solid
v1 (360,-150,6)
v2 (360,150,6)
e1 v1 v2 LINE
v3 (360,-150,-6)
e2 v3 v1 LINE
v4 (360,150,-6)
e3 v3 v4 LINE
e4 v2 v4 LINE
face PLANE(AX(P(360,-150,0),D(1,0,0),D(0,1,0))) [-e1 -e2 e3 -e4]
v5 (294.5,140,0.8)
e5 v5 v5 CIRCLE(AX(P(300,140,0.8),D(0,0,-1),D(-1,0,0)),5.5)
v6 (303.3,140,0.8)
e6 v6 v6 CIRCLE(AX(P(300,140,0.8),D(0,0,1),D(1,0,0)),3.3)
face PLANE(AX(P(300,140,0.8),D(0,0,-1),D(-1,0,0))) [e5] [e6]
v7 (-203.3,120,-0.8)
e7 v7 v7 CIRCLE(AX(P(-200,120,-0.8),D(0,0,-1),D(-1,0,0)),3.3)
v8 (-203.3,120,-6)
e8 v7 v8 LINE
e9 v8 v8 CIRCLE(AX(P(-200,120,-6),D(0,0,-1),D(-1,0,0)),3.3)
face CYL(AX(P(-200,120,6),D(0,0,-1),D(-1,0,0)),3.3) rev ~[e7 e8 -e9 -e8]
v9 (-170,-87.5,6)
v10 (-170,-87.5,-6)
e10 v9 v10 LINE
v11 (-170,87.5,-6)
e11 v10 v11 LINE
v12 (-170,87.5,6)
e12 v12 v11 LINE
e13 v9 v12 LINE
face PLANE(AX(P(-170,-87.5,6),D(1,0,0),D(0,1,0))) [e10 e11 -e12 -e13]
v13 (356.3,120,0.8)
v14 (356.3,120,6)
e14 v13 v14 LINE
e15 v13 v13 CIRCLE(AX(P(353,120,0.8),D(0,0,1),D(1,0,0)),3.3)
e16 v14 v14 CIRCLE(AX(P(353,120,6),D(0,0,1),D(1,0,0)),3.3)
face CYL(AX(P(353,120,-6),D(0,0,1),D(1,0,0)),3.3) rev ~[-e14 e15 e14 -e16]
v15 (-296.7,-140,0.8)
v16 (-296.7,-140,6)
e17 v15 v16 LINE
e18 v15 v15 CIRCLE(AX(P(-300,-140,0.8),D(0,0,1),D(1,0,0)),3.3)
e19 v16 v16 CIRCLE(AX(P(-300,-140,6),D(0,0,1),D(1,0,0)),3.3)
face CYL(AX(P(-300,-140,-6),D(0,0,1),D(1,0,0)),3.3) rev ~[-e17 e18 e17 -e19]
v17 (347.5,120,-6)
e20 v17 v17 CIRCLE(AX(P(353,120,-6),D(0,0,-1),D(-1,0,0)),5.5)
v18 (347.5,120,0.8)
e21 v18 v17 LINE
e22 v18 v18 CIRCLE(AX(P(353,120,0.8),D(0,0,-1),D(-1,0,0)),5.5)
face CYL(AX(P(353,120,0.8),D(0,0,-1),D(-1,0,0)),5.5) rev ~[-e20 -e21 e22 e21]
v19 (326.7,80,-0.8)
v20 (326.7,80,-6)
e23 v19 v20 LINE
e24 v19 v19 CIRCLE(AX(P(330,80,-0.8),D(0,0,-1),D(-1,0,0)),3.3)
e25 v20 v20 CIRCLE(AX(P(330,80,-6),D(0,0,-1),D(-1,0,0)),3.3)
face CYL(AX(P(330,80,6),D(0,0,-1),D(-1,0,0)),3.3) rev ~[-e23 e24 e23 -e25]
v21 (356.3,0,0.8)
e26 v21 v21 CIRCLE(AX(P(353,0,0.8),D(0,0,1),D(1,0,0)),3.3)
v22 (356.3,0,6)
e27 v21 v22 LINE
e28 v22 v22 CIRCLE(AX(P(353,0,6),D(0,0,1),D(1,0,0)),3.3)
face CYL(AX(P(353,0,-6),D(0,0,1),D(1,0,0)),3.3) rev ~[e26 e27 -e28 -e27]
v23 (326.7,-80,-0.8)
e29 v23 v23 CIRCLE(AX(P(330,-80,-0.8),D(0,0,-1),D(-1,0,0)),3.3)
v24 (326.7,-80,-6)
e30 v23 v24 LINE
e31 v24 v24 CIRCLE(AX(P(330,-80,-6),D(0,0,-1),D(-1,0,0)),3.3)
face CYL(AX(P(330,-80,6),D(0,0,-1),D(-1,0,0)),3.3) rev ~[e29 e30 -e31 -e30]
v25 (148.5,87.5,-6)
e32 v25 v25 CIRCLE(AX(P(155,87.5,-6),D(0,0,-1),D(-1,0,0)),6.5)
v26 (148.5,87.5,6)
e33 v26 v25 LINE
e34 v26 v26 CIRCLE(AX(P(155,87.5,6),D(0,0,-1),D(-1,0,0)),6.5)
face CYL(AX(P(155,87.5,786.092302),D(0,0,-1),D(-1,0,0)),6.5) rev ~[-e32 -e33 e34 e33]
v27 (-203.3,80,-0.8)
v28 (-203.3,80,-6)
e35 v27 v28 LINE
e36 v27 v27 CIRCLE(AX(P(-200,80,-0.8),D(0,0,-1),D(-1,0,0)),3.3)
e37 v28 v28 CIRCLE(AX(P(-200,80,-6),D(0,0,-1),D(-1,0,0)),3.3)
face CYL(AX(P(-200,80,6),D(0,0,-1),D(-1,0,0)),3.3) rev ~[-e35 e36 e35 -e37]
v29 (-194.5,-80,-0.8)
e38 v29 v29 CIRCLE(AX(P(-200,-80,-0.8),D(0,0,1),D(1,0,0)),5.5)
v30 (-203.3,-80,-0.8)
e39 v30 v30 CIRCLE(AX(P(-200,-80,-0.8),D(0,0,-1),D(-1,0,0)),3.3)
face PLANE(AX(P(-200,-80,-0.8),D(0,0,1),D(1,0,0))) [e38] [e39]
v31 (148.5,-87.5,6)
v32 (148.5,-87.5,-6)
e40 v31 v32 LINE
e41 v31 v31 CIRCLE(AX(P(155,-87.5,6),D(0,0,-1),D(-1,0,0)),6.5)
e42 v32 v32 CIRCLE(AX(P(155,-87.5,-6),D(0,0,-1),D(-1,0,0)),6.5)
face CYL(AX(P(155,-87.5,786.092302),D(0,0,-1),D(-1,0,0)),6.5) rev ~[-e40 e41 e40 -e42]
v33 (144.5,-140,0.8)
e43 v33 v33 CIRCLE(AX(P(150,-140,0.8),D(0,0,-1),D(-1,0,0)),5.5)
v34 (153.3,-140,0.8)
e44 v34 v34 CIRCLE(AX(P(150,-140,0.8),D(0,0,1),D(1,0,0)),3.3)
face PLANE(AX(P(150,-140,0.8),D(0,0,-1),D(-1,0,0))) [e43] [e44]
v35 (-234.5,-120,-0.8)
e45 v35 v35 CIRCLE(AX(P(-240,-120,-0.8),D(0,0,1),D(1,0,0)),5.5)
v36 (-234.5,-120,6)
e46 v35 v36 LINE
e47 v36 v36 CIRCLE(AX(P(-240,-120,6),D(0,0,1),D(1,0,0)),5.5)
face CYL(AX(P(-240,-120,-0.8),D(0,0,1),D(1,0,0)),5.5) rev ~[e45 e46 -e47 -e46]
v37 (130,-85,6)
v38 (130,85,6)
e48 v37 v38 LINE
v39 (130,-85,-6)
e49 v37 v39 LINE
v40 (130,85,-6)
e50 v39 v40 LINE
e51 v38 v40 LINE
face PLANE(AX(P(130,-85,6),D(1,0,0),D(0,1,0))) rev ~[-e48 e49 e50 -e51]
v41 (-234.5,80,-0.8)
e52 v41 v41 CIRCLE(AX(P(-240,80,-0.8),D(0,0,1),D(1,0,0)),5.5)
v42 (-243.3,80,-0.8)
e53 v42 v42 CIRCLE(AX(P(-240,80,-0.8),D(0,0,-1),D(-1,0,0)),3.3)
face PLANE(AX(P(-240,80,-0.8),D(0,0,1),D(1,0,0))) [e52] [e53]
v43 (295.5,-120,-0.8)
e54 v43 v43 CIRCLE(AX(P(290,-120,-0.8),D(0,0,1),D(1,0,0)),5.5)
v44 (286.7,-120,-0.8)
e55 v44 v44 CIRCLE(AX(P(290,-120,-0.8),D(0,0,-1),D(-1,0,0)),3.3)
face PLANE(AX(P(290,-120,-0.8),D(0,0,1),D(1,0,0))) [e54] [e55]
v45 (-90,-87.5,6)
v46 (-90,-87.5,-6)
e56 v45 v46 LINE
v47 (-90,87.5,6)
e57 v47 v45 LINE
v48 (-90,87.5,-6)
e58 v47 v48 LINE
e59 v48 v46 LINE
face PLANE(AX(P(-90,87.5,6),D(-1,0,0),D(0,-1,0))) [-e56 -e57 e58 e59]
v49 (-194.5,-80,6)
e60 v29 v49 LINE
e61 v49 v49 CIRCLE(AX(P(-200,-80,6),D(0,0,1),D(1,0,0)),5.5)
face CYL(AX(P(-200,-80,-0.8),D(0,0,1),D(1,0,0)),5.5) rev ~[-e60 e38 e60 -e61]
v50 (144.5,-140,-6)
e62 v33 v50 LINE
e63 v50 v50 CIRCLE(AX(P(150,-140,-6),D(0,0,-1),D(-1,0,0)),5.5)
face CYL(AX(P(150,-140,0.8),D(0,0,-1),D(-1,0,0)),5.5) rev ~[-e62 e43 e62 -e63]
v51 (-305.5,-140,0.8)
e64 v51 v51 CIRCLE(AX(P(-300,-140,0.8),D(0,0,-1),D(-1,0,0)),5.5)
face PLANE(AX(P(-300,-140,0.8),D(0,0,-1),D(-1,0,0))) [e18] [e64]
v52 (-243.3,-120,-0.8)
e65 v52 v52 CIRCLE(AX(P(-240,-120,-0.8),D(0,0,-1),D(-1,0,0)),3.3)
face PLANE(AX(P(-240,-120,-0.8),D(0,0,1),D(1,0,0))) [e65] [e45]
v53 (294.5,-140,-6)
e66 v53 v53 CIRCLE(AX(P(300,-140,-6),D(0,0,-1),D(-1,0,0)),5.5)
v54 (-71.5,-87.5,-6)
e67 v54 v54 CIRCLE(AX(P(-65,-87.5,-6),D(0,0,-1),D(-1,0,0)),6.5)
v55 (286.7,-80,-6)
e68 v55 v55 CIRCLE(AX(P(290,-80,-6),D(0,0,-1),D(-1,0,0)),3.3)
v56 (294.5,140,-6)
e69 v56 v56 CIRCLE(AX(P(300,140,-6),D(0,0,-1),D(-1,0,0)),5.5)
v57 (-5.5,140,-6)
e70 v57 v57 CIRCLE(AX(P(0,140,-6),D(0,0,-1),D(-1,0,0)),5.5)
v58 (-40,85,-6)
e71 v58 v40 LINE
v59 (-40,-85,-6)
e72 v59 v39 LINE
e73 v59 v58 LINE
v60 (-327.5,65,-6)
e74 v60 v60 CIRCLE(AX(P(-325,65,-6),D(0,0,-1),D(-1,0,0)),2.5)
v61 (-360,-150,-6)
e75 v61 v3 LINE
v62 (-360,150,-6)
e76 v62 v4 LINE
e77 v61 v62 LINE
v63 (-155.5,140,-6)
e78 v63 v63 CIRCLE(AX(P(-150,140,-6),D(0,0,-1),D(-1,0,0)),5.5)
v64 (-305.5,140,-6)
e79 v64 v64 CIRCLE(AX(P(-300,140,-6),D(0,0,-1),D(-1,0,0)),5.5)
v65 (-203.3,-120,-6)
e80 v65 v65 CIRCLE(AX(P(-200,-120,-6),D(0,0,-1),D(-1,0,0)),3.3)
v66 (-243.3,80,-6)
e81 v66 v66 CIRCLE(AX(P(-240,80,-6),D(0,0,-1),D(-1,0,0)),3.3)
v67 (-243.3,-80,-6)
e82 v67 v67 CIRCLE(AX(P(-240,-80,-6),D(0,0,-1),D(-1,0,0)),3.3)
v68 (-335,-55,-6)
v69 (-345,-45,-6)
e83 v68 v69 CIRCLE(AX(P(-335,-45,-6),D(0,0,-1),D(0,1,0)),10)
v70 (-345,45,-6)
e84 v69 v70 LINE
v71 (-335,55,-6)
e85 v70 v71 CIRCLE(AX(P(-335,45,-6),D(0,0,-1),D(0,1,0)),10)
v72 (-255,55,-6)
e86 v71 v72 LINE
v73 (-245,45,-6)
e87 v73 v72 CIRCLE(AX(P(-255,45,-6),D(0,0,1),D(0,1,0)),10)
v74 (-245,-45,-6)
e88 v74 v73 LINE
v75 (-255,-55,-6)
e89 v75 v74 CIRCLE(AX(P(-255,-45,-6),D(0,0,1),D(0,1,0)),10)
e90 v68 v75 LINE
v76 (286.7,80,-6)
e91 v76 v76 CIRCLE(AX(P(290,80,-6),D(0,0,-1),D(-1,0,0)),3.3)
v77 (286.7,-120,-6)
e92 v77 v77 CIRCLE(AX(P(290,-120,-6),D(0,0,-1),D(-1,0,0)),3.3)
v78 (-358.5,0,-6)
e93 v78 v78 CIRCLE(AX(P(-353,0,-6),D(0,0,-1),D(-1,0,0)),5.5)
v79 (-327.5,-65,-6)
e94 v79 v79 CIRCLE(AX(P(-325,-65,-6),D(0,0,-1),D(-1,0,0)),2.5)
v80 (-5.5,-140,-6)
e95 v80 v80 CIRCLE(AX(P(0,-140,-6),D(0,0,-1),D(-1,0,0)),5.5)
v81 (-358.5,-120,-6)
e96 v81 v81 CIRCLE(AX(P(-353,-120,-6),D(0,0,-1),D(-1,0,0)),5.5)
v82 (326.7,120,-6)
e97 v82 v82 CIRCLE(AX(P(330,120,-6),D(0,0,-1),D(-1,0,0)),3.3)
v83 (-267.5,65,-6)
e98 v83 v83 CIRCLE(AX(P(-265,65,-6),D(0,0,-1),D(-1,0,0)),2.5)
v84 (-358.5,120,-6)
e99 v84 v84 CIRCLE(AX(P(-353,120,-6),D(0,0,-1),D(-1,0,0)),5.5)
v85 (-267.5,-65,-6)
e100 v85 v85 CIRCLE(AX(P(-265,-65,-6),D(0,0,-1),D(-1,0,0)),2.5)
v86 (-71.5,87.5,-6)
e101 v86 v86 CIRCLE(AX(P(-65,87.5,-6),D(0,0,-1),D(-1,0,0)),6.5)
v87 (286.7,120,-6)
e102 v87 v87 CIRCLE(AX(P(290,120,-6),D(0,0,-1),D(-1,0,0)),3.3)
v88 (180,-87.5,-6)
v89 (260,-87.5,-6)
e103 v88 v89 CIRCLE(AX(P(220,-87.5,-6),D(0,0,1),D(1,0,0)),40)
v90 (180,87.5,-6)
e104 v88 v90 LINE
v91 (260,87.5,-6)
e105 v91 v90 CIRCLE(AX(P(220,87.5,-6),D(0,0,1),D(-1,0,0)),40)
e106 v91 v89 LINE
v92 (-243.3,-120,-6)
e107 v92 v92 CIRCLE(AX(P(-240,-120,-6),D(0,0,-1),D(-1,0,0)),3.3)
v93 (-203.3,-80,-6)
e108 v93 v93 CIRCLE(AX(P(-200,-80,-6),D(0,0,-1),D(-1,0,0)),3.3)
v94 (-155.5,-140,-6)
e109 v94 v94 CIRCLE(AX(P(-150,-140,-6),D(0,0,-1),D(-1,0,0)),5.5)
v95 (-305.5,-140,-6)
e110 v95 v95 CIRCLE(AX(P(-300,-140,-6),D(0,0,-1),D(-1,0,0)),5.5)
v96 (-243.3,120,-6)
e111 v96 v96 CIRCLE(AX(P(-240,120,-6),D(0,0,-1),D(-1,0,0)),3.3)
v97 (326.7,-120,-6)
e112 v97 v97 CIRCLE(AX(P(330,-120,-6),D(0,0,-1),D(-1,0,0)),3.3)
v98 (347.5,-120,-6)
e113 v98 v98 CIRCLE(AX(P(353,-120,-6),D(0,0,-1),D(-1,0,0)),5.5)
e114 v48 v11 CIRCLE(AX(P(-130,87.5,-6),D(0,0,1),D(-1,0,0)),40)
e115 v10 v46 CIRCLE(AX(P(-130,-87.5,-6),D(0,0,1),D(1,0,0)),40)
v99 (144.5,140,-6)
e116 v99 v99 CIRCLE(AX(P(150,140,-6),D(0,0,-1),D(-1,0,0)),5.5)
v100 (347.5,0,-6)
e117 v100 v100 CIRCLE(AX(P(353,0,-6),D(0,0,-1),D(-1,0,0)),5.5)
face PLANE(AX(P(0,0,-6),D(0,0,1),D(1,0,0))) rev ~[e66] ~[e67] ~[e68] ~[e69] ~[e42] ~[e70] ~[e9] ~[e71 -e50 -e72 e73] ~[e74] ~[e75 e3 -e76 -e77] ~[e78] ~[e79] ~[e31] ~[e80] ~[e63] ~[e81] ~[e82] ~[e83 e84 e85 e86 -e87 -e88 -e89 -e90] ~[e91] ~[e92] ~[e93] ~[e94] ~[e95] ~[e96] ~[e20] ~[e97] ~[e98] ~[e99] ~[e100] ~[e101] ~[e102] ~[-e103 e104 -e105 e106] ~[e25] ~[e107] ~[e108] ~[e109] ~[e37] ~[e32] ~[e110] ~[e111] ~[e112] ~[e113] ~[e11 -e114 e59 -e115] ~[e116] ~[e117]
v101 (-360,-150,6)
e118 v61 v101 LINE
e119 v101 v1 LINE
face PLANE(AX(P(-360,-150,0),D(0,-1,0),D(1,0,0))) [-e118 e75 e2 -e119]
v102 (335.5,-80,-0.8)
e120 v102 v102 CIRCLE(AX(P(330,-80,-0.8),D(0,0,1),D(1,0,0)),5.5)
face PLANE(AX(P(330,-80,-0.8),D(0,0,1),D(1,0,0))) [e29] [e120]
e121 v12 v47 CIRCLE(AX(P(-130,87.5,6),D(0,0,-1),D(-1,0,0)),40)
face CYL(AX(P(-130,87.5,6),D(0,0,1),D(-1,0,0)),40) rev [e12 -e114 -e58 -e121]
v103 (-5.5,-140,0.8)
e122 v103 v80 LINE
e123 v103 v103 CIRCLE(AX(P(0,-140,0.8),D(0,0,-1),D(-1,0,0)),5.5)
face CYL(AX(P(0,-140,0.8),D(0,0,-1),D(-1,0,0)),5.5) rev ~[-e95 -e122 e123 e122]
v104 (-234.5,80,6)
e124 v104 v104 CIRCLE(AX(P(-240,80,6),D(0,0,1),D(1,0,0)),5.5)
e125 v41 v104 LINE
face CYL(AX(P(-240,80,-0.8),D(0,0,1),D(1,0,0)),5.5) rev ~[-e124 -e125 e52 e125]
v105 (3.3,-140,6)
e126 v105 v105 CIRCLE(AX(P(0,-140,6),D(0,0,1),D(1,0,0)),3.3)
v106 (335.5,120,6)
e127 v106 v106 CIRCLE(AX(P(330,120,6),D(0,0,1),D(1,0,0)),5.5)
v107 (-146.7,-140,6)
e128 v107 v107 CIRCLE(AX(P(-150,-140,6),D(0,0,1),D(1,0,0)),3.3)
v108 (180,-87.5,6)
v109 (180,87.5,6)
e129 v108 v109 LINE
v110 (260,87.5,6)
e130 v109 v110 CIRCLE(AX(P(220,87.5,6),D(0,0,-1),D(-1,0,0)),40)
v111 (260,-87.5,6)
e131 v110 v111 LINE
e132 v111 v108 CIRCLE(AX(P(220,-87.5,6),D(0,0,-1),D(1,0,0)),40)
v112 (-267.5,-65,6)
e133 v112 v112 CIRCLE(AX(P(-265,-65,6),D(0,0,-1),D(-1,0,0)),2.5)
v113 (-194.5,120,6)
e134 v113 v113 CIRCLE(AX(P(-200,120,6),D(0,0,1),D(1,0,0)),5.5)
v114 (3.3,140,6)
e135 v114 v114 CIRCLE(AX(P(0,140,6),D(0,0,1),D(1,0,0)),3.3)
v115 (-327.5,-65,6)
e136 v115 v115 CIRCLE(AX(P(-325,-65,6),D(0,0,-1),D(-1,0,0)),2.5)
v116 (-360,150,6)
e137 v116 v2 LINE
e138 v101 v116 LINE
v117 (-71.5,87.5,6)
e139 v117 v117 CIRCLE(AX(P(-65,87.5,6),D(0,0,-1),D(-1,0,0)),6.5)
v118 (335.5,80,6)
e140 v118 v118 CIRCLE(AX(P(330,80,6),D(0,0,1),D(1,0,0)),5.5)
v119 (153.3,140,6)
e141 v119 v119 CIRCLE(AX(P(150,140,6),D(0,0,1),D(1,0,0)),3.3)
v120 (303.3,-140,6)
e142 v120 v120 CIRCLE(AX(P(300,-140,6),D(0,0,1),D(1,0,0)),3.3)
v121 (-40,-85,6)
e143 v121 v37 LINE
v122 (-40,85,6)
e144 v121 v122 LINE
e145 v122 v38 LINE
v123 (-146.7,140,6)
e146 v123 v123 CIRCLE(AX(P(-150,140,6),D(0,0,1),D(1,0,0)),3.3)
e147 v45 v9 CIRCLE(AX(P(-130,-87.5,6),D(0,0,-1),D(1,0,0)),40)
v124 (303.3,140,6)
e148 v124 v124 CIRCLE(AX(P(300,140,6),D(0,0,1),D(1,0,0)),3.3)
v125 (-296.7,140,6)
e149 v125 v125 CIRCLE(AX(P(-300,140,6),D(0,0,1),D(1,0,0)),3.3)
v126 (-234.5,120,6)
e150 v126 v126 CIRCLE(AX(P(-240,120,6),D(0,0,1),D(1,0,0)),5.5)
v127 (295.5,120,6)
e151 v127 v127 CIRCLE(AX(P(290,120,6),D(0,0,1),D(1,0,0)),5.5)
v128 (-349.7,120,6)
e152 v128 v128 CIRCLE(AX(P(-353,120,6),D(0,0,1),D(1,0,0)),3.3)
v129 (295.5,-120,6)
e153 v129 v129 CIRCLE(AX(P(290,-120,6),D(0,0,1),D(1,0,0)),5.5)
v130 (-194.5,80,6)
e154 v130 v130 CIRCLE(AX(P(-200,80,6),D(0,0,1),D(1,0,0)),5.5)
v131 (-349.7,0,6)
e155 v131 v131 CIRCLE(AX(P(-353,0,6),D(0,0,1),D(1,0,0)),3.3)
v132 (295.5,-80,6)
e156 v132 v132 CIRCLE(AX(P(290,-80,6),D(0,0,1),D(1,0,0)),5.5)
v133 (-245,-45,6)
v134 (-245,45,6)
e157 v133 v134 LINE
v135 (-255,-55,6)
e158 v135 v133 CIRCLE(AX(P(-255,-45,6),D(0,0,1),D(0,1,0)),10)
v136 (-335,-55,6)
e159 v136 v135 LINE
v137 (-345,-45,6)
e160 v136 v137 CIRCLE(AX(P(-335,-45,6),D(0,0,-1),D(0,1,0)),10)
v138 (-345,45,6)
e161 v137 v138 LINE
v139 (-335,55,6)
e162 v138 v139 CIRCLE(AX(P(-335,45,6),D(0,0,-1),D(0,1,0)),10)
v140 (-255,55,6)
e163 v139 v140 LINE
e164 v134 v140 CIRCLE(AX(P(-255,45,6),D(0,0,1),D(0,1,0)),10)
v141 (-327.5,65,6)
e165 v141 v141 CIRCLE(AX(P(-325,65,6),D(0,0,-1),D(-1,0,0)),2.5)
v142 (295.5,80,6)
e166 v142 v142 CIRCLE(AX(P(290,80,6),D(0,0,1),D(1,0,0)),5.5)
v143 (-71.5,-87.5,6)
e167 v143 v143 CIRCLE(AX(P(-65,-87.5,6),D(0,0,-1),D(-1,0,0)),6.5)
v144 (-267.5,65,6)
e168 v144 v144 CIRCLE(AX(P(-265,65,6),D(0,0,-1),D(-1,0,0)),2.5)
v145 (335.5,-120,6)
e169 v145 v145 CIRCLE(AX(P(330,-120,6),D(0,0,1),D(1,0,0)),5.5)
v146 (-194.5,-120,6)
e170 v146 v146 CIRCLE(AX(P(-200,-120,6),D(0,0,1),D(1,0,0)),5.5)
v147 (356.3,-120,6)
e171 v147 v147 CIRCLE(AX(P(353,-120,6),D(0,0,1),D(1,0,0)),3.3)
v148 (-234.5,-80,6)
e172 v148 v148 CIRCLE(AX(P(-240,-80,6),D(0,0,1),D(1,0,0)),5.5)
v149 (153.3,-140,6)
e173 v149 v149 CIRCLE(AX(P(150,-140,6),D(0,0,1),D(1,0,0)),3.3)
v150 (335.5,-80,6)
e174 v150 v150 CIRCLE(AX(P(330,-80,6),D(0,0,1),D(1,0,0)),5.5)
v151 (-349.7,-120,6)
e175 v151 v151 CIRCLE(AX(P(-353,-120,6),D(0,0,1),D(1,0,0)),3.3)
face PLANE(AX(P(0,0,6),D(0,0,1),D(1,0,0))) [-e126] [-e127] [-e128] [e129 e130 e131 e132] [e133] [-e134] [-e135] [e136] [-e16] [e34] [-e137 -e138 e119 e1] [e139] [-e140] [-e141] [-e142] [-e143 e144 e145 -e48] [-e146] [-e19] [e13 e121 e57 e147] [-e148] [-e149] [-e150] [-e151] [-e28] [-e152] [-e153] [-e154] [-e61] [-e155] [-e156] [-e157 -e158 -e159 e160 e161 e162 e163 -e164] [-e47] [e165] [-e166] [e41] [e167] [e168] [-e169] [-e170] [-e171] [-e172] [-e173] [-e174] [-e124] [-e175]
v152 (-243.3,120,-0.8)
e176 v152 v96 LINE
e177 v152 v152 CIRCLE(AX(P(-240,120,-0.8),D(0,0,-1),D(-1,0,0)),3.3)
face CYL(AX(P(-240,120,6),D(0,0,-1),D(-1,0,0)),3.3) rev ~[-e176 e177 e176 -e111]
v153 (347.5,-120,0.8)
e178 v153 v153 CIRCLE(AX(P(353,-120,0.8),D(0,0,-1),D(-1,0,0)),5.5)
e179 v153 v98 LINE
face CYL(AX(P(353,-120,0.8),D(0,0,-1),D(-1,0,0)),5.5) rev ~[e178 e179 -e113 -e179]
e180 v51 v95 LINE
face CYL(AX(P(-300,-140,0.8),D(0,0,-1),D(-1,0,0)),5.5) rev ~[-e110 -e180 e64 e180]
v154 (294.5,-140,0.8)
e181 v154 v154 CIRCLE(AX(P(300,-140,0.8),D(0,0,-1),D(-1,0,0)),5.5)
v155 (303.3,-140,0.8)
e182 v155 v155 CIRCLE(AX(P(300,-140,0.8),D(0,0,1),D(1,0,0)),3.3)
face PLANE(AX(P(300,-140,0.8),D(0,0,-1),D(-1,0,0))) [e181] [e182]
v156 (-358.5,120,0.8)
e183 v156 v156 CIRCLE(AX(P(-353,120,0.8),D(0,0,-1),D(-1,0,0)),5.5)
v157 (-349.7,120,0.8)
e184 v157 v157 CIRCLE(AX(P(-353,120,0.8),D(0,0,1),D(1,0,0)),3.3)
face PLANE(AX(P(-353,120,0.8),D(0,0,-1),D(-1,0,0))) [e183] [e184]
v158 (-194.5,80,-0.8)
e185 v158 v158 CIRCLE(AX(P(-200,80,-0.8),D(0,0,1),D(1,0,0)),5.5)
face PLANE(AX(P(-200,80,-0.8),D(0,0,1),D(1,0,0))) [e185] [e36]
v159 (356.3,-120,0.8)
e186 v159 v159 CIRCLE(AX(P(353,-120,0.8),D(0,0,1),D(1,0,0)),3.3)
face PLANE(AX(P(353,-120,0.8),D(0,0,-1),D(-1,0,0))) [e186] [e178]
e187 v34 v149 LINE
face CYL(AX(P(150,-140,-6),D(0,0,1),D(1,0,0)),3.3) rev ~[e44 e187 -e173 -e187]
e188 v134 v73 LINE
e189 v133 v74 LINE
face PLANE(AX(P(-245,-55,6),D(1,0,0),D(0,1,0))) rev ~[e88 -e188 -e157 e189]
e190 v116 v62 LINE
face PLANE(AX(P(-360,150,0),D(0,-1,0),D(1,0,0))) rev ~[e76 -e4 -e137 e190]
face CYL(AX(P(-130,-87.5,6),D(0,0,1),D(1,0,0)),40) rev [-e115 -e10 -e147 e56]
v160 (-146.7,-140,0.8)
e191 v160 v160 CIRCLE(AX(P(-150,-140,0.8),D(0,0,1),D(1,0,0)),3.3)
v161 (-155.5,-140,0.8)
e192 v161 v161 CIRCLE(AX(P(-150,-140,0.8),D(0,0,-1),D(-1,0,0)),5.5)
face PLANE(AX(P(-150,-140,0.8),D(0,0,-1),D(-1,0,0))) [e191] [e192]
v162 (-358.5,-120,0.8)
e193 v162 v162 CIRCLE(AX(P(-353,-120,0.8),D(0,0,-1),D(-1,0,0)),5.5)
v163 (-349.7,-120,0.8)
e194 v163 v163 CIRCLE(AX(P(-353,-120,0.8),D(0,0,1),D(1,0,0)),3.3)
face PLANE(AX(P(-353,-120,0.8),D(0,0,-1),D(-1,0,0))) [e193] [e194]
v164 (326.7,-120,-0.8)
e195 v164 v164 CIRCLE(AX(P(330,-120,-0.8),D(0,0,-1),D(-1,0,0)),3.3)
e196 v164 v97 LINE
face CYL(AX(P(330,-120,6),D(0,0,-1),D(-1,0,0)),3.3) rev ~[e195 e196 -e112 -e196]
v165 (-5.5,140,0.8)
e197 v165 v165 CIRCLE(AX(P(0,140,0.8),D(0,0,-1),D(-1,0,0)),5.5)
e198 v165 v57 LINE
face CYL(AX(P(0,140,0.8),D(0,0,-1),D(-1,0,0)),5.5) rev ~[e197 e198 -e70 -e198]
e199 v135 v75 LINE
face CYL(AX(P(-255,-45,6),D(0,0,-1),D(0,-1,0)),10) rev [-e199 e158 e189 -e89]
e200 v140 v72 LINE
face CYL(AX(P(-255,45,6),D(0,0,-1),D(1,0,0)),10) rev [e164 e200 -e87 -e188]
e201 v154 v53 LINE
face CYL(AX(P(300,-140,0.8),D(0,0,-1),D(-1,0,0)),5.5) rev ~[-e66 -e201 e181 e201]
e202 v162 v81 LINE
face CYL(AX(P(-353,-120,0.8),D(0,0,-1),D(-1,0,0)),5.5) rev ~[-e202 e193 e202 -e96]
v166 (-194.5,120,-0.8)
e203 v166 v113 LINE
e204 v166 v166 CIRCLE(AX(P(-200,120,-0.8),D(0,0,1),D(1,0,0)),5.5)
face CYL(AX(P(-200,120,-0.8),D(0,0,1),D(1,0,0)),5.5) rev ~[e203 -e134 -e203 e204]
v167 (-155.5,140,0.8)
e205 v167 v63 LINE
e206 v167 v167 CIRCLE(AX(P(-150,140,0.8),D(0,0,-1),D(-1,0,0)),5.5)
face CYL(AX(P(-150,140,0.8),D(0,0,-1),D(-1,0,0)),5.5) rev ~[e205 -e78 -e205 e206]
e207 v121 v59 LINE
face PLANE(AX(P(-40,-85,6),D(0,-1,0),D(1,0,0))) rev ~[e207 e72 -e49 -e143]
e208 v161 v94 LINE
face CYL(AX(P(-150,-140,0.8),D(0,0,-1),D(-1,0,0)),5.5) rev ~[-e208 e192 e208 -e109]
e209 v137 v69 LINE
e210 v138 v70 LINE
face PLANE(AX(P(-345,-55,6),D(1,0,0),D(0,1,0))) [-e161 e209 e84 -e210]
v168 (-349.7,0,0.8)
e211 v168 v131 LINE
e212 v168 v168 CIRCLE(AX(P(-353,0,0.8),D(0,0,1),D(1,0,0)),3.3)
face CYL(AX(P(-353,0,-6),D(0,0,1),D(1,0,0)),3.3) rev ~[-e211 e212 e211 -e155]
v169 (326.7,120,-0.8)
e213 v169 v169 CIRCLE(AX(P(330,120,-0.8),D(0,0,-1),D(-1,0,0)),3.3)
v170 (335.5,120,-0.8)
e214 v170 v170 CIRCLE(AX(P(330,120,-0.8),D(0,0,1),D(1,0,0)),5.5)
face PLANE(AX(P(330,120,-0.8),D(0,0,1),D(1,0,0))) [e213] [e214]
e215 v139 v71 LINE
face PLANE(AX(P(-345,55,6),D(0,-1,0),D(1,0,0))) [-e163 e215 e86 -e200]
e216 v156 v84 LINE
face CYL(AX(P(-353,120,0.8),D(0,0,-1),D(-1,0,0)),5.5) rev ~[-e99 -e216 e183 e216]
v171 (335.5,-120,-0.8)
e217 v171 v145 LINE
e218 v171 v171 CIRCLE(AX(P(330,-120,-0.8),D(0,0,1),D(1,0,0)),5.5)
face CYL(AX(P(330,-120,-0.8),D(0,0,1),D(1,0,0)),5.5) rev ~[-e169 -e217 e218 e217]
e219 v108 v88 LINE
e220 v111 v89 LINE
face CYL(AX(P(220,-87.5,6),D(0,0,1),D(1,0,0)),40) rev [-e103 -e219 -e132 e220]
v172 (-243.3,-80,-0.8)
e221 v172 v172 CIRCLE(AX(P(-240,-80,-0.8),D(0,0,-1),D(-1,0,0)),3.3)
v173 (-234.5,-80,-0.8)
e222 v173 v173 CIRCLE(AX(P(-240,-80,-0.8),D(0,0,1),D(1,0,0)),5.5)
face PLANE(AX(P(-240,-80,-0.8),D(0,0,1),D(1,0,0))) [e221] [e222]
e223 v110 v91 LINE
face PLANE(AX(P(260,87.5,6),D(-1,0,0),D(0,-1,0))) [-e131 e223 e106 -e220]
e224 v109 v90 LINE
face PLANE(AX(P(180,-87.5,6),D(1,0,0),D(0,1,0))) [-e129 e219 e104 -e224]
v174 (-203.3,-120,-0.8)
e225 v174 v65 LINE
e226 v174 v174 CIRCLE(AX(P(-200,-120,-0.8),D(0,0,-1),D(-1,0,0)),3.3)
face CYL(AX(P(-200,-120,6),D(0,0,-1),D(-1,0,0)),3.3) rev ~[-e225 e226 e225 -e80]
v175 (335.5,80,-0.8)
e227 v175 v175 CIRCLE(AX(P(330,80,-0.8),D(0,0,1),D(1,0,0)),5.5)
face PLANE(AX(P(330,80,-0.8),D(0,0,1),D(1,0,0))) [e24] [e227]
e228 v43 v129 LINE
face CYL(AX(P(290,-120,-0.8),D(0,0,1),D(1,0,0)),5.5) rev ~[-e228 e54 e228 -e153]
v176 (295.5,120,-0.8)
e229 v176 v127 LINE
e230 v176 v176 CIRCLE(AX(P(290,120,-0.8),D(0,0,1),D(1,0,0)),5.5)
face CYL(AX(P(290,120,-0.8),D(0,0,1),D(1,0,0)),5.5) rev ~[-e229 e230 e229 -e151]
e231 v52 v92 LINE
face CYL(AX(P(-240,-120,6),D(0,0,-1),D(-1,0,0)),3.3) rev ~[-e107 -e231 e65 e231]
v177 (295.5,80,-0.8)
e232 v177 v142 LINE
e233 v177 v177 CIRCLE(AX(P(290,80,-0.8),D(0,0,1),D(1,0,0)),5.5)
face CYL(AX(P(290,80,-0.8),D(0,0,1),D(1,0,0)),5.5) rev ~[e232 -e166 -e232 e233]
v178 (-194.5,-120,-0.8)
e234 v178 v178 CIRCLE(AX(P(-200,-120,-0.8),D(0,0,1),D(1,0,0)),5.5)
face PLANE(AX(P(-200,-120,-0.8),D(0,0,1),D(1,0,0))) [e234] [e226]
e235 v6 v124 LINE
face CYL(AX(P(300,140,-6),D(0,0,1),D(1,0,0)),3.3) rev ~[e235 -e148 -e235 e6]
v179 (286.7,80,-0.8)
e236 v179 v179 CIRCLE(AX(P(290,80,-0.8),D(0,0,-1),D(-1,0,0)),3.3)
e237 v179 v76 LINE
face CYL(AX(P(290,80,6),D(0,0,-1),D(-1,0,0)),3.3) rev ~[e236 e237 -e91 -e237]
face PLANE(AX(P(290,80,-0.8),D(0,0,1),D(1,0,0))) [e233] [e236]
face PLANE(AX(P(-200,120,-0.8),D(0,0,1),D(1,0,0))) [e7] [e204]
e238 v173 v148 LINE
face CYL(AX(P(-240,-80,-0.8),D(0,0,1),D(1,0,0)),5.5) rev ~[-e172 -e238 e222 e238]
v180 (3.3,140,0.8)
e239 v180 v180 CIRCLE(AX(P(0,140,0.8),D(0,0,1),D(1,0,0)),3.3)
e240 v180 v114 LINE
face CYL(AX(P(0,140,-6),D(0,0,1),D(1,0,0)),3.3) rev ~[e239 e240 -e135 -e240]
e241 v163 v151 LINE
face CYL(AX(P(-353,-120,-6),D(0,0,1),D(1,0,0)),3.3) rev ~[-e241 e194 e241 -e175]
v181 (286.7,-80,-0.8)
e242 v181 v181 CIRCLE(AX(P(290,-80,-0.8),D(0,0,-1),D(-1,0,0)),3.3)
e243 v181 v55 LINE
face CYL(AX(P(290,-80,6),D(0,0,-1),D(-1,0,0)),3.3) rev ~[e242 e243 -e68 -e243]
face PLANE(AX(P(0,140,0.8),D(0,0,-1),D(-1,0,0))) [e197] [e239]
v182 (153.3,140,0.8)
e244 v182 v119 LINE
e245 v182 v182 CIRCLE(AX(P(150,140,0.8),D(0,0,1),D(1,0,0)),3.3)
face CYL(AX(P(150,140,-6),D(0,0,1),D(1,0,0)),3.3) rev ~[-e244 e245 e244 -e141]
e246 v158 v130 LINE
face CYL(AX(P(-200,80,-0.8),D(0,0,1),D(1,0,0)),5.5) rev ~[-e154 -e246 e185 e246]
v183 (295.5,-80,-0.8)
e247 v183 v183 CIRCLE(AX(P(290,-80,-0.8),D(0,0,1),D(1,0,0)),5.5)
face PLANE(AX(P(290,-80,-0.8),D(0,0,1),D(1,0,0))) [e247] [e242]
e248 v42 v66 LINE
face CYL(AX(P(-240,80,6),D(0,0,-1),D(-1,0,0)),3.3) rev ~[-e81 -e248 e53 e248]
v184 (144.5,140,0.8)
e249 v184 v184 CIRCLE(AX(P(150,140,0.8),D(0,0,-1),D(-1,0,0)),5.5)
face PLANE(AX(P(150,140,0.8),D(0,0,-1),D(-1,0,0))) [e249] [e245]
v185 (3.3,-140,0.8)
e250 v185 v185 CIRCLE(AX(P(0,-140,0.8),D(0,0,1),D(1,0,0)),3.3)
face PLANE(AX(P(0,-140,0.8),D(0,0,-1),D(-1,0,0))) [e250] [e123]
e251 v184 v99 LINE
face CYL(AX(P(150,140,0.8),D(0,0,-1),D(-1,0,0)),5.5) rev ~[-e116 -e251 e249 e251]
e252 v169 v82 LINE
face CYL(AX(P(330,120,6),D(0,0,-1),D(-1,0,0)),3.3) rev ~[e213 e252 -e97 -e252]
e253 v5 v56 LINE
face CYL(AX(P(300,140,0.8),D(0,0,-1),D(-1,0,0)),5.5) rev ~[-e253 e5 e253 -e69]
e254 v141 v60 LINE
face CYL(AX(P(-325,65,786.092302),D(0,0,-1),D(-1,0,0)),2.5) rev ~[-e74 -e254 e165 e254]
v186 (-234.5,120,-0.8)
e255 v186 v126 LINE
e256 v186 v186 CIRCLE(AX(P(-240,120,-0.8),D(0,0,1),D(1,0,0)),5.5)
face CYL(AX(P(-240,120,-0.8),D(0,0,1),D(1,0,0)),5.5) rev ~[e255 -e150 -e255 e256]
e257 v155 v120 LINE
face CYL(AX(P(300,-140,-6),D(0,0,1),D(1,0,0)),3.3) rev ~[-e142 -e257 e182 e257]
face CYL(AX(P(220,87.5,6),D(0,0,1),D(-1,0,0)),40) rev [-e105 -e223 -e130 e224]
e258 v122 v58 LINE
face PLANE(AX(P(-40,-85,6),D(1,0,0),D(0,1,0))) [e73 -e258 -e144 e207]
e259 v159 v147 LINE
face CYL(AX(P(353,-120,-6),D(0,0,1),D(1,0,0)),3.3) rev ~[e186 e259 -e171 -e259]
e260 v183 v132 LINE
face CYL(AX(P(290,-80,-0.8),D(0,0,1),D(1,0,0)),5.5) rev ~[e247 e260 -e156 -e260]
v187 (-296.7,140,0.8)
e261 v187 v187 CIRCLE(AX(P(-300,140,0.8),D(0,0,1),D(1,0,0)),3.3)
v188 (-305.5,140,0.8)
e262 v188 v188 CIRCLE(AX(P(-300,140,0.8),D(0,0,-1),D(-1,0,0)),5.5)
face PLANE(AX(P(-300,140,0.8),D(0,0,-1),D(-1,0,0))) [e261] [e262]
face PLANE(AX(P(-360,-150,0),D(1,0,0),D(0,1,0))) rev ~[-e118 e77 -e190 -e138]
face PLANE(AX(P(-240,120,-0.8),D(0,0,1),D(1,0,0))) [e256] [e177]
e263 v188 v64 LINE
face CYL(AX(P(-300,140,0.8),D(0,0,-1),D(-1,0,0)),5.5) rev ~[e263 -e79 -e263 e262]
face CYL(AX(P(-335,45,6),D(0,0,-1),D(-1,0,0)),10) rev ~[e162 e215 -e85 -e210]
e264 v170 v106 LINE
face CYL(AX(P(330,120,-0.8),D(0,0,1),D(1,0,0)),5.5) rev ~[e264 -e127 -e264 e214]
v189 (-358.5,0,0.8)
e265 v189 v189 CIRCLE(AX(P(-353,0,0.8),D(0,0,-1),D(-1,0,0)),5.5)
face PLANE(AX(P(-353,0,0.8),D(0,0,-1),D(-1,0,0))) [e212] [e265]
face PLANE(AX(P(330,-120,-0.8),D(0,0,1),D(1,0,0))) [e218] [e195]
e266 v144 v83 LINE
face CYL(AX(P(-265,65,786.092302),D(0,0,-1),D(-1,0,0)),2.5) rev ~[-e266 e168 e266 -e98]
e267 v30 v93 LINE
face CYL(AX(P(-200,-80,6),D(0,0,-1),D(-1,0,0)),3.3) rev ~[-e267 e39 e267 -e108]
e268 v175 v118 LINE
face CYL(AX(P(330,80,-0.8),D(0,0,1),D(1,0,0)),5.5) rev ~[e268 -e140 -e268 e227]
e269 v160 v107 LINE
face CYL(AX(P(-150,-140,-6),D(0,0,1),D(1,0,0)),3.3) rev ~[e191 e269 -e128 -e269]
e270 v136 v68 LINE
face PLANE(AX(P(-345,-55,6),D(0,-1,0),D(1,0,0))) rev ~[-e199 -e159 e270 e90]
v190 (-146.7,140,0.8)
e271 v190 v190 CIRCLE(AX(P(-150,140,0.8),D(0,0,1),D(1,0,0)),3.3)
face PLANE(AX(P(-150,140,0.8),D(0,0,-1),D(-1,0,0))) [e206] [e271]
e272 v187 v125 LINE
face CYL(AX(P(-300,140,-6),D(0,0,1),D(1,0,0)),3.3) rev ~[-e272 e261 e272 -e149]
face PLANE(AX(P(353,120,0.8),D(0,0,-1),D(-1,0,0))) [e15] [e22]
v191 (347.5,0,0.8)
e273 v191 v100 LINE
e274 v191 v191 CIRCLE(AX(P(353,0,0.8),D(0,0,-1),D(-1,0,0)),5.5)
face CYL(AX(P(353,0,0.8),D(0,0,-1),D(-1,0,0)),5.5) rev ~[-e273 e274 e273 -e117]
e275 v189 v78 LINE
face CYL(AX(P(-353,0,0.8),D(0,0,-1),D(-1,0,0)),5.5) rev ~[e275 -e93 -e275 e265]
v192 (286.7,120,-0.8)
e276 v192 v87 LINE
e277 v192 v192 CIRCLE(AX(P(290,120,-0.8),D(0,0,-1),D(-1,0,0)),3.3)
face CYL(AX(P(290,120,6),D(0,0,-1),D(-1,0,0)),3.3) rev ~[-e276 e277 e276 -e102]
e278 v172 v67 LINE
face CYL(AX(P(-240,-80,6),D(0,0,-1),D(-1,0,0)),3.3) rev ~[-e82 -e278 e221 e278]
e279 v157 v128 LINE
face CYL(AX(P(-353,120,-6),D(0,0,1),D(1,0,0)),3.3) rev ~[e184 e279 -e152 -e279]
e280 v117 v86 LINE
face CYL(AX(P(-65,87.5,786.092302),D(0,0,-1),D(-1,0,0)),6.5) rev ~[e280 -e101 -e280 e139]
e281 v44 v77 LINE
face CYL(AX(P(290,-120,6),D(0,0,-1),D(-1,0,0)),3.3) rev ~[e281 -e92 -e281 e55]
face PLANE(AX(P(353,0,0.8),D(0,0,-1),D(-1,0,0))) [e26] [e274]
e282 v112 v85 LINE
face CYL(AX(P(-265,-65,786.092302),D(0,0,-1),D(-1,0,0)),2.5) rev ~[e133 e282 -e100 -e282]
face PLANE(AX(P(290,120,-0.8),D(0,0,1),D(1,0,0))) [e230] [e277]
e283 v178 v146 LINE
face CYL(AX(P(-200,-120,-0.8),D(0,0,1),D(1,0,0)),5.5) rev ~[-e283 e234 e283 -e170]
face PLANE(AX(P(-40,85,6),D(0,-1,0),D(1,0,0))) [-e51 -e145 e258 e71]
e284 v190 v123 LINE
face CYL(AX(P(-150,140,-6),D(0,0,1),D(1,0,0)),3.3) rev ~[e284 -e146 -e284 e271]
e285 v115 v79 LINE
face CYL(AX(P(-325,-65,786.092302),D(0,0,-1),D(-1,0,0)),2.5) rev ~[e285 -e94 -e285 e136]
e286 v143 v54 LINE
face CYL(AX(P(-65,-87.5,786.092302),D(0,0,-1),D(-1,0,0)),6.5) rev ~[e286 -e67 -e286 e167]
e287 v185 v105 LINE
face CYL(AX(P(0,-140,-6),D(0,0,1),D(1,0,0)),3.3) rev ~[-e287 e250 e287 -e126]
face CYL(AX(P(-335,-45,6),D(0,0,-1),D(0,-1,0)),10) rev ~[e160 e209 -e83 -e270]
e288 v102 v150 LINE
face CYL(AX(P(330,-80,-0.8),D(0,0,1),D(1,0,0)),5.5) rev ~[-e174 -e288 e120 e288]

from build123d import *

# Parameters (mm, degrees)
SKETCH_1_W                  = 720
SKETCH_1_H                  = 300
EXTRUDE_1_DEPTH             = 6
SKETCH_2_R                  = 30
CUT_EXTRUDE_1_DEPTH         = 13
SKETCH_5_R                  = 22.5
CUT_EXTRUDE_2_DEPTH         = 13
HOLE_WIZARD_M6_1_D          = 5
HOLE_WIZARD_13_0_13_1_D     = 13
HOLE_WIZARD_4_D             = 6.6
HOLE_WIZARD_4_CBORE_D       = 11
HOLE_WIZARD_4_CBORE_DEPTH   = 6.8
HOLE_WIZARD_11_0_11_1_D     = 11
HOLE_WIZARD_11_0_11_2_D     = 11
SKETCH_29_W                 = 170
SKETCH_29_H                 = 170
CUT_EXTRUDE_5_DEPTH         = 13
CUT_EXTRUDE_6_DEPTH         = 13
HOLE_WIZARD_M5_3_D          = 4.2
SKETCH_32_R                 = 28
CUT_EXTRUDE_7_DEPTH         = 13
HOLE_WIZARD_4_2_D           = 6.6
HOLE_WIZARD_4_2_CBORE_D     = 11
HOLE_WIZARD_4_2_CBORE_DEPTH = 6.8
HOLE_WIZARD_M6_2_D          = 5
SKETCH_38_W                 = 100
SKETCH_38_H                 = 110
CUT_EXTRUDE_8_DEPTH         = 13
HOLE_WIZARD_M6_3_D          = 5
FILLET_1_R                  = 10


with BuildPart() as part:
    # 草图1 → 凸台-拉伸1 (new body, symmetric)
    with BuildSketch(Plane.XY):
        Rectangle(SKETCH_1_W, SKETCH_1_H)
    extrude(amount=EXTRUDE_1_DEPTH, both=True)

    # 草图2 → 切除-拉伸1 (cut, through all)
    with BuildSketch(Plane.XY.offset(6)):
        with Locations((45, 0)):
            Circle(SKETCH_2_R)
    extrude(amount=-CUT_EXTRUDE_1_DEPTH, mode=Mode.SUBTRACT)

    # 草图5 → 切除-拉伸2 (cut, through all)
    with BuildSketch(Plane.XY.offset(6)):
        with Locations((-130, 87.5)):
            Circle(SKETCH_5_R)
        with Locations((-130, -87.5)):
            Circle(SKETCH_5_R)
        with Locations((220, -87.5)):
            Circle(SKETCH_5_R)
        with Locations((220, 87.5)):
            Circle(SKETCH_5_R)
    extrude(amount=-CUT_EXTRUDE_2_DEPTH, mode=Mode.SUBTRACT)

    # M6 螺纹孔1 (through all)
    with Locations(Plane.XY.offset(6)):
        with Locations((-154.5, -105), (-154.5, 105), (-105.5, 105), (-105.5, 70), (-154.5, 70), (244.5, 70), (195.5, 70), (195.5, 105), (244.5, 105), (244.5, -105), (195.5, -105), (195.5, -70), (244.5, -70), (-154.5, -70), (-105.5, -70), (-105.5, -105)):
            Hole(HOLE_WIZARD_M6_1_D / 2)

    # Ø13.0 (13) 直径孔1 (through all)
    with Locations(Plane.XY.offset(6)):
        with Locations((-65, 87.5), (155, 87.5), (155, -87.5), (-65, -87.5)):
            Hole(HOLE_WIZARD_13_0_13_1_D / 2)

    # Hole Wizard 4 (through all)
    with Locations(Plane(origin=(-240, 120, 6), x_dir=(1, 0, 0), z_dir=(0, 0, 1))):
        with Locations((0, 0), (40, 0), (40, -40), (0, -40), (40, -200), (40, -240), (0, -240), (0, -200), (530, 0), (570, 0), (570, -40), (530, -40), (530, -200), (570, -200), (570, -240), (530, -240)):
            CounterBoreHole(HOLE_WIZARD_4_D / 2, HOLE_WIZARD_4_CBORE_D / 2, HOLE_WIZARD_4_CBORE_DEPTH)

    # Ø11.0 (11) 直径孔1 (through all)
    with Locations(Plane(origin=(-30, 75, 6), x_dir=(1, 0, 0), z_dir=(0, 0, 1))):
        with Locations((0, 0), (152.597951226, 3.193252991), (0, -150), (150, -150)):
            Hole(HOLE_WIZARD_11_0_11_1_D / 2)

    # Ø11.0 (11) 直径孔2 (through all)
    with Locations(Plane(origin=(0.5, -44.5, 6), x_dir=(1, 0, 0), z_dir=(0, 0, 1))):
        with Locations((0, 0), (89, 0), (89, 89), (0, 89)):
            Hole(HOLE_WIZARD_11_0_11_2_D / 2)

    # 草图29 → 切除-拉伸5 (cut, through all)
    with BuildSketch(Plane.XY.offset(6)):
        with Locations((45, 0)):
            Rectangle(SKETCH_29_W, SKETCH_29_H)
    extrude(amount=-CUT_EXTRUDE_5_DEPTH, mode=Mode.SUBTRACT)

    # 草图30 → 切除-拉伸6 (cut, through all)
    with BuildSketch(Plane.XY.offset(6)):
        with BuildLine():
            Line((-90, 87.5), (-90, -87.5))
            ThreePointArc((-90, -87.5), (-130, -127.5), (-170, -87.5))
            Line((-170, -87.5), (-170, 87.5))
            ThreePointArc((-170, 87.5), (-130, 127.5), (-90, 87.5))
        make_face()
        with BuildLine():
            Line((260, 87.5), (260, -87.5))
            ThreePointArc((260, -87.5), (220, -127.5), (180, -87.5))
            Line((180, -87.5), (180, 87.5))
            ThreePointArc((180, 87.5), (220, 127.5), (260, 87.5))
        make_face()
    extrude(amount=-CUT_EXTRUDE_6_DEPTH, mode=Mode.SUBTRACT)

    # M5 螺纹孔3 (through all)
    with Locations(Plane(origin=(-336.75, 24.75, 6), x_dir=(1, 0, 0), z_dir=(0, 0, 1))):
        with Locations((0, 0), (49.5, 0), (49.5, -49.5), (0, -49.5)):
            Hole(HOLE_WIZARD_M5_3_D / 2)

    # 草图32 → 切除-拉伸7 (cut, through all)
    with BuildSketch(Plane.XY.offset(6)):
        with Locations((-312, 0)):
            Circle(SKETCH_32_R)
    extrude(amount=-CUT_EXTRUDE_7_DEPTH, mode=Mode.SUBTRACT)

    # Hole Wizard 4 2 (through all)
    with Locations(Plane(origin=(-353, -120, -6), x_dir=(-1, 0, 0), z_dir=(0, 0, -1))):
        with Locations((0, 0), (0, 120), (0, 240), (-53, 260), (-203, 260), (-353, 260), (-503, 260), (-653, 260), (-706, 240), (-706, 120), (-706, 0), (-653, -20), (-503, -20), (-353, -20), (-203, -20), (-53, -20)):
            CounterBoreHole(HOLE_WIZARD_4_2_D / 2, HOLE_WIZARD_4_2_CBORE_D / 2, HOLE_WIZARD_4_2_CBORE_DEPTH)

    # M6 螺纹孔2 (through all)
    with Locations(Plane(origin=(-341.8, 34.8, 6), x_dir=(1, 0, 0), z_dir=(0, 0, 1))):
        with Locations((0, 0), (69.6, 0), (69.6, -69.6), (0, -69.6)):
            Hole(HOLE_WIZARD_M6_2_D / 2)

    # 草图38 → 切除-拉伸8 (cut, through all)
    with BuildSketch(Plane.XY.offset(6)):
        with Locations((-295, 0)):
            Rectangle(SKETCH_38_W, SKETCH_38_H)
    extrude(amount=-CUT_EXTRUDE_8_DEPTH, mode=Mode.SUBTRACT)

    # M6 螺纹孔3 (through all)
    with Locations(Plane(origin=(-325, 65, 6), x_dir=(1, 0, 0), z_dir=(0, 0, 1))):
        with Locations((0, 0), (60, 0), (60, -130), (0, -130)):
            Hole(HOLE_WIZARD_M6_3_D / 2)

    # 圆角1
    fillet_1_edges = [part.edges().sort_by_distance(p)[0] for p in [
        (-245, 55, 0),
        (-245, -55, 0),
        (-345, -55, 0),
        (-345, 55, 0),
    ]]
    fillet(fillet_1_edges, radius=FILLET_1_R)


solid = part.part
